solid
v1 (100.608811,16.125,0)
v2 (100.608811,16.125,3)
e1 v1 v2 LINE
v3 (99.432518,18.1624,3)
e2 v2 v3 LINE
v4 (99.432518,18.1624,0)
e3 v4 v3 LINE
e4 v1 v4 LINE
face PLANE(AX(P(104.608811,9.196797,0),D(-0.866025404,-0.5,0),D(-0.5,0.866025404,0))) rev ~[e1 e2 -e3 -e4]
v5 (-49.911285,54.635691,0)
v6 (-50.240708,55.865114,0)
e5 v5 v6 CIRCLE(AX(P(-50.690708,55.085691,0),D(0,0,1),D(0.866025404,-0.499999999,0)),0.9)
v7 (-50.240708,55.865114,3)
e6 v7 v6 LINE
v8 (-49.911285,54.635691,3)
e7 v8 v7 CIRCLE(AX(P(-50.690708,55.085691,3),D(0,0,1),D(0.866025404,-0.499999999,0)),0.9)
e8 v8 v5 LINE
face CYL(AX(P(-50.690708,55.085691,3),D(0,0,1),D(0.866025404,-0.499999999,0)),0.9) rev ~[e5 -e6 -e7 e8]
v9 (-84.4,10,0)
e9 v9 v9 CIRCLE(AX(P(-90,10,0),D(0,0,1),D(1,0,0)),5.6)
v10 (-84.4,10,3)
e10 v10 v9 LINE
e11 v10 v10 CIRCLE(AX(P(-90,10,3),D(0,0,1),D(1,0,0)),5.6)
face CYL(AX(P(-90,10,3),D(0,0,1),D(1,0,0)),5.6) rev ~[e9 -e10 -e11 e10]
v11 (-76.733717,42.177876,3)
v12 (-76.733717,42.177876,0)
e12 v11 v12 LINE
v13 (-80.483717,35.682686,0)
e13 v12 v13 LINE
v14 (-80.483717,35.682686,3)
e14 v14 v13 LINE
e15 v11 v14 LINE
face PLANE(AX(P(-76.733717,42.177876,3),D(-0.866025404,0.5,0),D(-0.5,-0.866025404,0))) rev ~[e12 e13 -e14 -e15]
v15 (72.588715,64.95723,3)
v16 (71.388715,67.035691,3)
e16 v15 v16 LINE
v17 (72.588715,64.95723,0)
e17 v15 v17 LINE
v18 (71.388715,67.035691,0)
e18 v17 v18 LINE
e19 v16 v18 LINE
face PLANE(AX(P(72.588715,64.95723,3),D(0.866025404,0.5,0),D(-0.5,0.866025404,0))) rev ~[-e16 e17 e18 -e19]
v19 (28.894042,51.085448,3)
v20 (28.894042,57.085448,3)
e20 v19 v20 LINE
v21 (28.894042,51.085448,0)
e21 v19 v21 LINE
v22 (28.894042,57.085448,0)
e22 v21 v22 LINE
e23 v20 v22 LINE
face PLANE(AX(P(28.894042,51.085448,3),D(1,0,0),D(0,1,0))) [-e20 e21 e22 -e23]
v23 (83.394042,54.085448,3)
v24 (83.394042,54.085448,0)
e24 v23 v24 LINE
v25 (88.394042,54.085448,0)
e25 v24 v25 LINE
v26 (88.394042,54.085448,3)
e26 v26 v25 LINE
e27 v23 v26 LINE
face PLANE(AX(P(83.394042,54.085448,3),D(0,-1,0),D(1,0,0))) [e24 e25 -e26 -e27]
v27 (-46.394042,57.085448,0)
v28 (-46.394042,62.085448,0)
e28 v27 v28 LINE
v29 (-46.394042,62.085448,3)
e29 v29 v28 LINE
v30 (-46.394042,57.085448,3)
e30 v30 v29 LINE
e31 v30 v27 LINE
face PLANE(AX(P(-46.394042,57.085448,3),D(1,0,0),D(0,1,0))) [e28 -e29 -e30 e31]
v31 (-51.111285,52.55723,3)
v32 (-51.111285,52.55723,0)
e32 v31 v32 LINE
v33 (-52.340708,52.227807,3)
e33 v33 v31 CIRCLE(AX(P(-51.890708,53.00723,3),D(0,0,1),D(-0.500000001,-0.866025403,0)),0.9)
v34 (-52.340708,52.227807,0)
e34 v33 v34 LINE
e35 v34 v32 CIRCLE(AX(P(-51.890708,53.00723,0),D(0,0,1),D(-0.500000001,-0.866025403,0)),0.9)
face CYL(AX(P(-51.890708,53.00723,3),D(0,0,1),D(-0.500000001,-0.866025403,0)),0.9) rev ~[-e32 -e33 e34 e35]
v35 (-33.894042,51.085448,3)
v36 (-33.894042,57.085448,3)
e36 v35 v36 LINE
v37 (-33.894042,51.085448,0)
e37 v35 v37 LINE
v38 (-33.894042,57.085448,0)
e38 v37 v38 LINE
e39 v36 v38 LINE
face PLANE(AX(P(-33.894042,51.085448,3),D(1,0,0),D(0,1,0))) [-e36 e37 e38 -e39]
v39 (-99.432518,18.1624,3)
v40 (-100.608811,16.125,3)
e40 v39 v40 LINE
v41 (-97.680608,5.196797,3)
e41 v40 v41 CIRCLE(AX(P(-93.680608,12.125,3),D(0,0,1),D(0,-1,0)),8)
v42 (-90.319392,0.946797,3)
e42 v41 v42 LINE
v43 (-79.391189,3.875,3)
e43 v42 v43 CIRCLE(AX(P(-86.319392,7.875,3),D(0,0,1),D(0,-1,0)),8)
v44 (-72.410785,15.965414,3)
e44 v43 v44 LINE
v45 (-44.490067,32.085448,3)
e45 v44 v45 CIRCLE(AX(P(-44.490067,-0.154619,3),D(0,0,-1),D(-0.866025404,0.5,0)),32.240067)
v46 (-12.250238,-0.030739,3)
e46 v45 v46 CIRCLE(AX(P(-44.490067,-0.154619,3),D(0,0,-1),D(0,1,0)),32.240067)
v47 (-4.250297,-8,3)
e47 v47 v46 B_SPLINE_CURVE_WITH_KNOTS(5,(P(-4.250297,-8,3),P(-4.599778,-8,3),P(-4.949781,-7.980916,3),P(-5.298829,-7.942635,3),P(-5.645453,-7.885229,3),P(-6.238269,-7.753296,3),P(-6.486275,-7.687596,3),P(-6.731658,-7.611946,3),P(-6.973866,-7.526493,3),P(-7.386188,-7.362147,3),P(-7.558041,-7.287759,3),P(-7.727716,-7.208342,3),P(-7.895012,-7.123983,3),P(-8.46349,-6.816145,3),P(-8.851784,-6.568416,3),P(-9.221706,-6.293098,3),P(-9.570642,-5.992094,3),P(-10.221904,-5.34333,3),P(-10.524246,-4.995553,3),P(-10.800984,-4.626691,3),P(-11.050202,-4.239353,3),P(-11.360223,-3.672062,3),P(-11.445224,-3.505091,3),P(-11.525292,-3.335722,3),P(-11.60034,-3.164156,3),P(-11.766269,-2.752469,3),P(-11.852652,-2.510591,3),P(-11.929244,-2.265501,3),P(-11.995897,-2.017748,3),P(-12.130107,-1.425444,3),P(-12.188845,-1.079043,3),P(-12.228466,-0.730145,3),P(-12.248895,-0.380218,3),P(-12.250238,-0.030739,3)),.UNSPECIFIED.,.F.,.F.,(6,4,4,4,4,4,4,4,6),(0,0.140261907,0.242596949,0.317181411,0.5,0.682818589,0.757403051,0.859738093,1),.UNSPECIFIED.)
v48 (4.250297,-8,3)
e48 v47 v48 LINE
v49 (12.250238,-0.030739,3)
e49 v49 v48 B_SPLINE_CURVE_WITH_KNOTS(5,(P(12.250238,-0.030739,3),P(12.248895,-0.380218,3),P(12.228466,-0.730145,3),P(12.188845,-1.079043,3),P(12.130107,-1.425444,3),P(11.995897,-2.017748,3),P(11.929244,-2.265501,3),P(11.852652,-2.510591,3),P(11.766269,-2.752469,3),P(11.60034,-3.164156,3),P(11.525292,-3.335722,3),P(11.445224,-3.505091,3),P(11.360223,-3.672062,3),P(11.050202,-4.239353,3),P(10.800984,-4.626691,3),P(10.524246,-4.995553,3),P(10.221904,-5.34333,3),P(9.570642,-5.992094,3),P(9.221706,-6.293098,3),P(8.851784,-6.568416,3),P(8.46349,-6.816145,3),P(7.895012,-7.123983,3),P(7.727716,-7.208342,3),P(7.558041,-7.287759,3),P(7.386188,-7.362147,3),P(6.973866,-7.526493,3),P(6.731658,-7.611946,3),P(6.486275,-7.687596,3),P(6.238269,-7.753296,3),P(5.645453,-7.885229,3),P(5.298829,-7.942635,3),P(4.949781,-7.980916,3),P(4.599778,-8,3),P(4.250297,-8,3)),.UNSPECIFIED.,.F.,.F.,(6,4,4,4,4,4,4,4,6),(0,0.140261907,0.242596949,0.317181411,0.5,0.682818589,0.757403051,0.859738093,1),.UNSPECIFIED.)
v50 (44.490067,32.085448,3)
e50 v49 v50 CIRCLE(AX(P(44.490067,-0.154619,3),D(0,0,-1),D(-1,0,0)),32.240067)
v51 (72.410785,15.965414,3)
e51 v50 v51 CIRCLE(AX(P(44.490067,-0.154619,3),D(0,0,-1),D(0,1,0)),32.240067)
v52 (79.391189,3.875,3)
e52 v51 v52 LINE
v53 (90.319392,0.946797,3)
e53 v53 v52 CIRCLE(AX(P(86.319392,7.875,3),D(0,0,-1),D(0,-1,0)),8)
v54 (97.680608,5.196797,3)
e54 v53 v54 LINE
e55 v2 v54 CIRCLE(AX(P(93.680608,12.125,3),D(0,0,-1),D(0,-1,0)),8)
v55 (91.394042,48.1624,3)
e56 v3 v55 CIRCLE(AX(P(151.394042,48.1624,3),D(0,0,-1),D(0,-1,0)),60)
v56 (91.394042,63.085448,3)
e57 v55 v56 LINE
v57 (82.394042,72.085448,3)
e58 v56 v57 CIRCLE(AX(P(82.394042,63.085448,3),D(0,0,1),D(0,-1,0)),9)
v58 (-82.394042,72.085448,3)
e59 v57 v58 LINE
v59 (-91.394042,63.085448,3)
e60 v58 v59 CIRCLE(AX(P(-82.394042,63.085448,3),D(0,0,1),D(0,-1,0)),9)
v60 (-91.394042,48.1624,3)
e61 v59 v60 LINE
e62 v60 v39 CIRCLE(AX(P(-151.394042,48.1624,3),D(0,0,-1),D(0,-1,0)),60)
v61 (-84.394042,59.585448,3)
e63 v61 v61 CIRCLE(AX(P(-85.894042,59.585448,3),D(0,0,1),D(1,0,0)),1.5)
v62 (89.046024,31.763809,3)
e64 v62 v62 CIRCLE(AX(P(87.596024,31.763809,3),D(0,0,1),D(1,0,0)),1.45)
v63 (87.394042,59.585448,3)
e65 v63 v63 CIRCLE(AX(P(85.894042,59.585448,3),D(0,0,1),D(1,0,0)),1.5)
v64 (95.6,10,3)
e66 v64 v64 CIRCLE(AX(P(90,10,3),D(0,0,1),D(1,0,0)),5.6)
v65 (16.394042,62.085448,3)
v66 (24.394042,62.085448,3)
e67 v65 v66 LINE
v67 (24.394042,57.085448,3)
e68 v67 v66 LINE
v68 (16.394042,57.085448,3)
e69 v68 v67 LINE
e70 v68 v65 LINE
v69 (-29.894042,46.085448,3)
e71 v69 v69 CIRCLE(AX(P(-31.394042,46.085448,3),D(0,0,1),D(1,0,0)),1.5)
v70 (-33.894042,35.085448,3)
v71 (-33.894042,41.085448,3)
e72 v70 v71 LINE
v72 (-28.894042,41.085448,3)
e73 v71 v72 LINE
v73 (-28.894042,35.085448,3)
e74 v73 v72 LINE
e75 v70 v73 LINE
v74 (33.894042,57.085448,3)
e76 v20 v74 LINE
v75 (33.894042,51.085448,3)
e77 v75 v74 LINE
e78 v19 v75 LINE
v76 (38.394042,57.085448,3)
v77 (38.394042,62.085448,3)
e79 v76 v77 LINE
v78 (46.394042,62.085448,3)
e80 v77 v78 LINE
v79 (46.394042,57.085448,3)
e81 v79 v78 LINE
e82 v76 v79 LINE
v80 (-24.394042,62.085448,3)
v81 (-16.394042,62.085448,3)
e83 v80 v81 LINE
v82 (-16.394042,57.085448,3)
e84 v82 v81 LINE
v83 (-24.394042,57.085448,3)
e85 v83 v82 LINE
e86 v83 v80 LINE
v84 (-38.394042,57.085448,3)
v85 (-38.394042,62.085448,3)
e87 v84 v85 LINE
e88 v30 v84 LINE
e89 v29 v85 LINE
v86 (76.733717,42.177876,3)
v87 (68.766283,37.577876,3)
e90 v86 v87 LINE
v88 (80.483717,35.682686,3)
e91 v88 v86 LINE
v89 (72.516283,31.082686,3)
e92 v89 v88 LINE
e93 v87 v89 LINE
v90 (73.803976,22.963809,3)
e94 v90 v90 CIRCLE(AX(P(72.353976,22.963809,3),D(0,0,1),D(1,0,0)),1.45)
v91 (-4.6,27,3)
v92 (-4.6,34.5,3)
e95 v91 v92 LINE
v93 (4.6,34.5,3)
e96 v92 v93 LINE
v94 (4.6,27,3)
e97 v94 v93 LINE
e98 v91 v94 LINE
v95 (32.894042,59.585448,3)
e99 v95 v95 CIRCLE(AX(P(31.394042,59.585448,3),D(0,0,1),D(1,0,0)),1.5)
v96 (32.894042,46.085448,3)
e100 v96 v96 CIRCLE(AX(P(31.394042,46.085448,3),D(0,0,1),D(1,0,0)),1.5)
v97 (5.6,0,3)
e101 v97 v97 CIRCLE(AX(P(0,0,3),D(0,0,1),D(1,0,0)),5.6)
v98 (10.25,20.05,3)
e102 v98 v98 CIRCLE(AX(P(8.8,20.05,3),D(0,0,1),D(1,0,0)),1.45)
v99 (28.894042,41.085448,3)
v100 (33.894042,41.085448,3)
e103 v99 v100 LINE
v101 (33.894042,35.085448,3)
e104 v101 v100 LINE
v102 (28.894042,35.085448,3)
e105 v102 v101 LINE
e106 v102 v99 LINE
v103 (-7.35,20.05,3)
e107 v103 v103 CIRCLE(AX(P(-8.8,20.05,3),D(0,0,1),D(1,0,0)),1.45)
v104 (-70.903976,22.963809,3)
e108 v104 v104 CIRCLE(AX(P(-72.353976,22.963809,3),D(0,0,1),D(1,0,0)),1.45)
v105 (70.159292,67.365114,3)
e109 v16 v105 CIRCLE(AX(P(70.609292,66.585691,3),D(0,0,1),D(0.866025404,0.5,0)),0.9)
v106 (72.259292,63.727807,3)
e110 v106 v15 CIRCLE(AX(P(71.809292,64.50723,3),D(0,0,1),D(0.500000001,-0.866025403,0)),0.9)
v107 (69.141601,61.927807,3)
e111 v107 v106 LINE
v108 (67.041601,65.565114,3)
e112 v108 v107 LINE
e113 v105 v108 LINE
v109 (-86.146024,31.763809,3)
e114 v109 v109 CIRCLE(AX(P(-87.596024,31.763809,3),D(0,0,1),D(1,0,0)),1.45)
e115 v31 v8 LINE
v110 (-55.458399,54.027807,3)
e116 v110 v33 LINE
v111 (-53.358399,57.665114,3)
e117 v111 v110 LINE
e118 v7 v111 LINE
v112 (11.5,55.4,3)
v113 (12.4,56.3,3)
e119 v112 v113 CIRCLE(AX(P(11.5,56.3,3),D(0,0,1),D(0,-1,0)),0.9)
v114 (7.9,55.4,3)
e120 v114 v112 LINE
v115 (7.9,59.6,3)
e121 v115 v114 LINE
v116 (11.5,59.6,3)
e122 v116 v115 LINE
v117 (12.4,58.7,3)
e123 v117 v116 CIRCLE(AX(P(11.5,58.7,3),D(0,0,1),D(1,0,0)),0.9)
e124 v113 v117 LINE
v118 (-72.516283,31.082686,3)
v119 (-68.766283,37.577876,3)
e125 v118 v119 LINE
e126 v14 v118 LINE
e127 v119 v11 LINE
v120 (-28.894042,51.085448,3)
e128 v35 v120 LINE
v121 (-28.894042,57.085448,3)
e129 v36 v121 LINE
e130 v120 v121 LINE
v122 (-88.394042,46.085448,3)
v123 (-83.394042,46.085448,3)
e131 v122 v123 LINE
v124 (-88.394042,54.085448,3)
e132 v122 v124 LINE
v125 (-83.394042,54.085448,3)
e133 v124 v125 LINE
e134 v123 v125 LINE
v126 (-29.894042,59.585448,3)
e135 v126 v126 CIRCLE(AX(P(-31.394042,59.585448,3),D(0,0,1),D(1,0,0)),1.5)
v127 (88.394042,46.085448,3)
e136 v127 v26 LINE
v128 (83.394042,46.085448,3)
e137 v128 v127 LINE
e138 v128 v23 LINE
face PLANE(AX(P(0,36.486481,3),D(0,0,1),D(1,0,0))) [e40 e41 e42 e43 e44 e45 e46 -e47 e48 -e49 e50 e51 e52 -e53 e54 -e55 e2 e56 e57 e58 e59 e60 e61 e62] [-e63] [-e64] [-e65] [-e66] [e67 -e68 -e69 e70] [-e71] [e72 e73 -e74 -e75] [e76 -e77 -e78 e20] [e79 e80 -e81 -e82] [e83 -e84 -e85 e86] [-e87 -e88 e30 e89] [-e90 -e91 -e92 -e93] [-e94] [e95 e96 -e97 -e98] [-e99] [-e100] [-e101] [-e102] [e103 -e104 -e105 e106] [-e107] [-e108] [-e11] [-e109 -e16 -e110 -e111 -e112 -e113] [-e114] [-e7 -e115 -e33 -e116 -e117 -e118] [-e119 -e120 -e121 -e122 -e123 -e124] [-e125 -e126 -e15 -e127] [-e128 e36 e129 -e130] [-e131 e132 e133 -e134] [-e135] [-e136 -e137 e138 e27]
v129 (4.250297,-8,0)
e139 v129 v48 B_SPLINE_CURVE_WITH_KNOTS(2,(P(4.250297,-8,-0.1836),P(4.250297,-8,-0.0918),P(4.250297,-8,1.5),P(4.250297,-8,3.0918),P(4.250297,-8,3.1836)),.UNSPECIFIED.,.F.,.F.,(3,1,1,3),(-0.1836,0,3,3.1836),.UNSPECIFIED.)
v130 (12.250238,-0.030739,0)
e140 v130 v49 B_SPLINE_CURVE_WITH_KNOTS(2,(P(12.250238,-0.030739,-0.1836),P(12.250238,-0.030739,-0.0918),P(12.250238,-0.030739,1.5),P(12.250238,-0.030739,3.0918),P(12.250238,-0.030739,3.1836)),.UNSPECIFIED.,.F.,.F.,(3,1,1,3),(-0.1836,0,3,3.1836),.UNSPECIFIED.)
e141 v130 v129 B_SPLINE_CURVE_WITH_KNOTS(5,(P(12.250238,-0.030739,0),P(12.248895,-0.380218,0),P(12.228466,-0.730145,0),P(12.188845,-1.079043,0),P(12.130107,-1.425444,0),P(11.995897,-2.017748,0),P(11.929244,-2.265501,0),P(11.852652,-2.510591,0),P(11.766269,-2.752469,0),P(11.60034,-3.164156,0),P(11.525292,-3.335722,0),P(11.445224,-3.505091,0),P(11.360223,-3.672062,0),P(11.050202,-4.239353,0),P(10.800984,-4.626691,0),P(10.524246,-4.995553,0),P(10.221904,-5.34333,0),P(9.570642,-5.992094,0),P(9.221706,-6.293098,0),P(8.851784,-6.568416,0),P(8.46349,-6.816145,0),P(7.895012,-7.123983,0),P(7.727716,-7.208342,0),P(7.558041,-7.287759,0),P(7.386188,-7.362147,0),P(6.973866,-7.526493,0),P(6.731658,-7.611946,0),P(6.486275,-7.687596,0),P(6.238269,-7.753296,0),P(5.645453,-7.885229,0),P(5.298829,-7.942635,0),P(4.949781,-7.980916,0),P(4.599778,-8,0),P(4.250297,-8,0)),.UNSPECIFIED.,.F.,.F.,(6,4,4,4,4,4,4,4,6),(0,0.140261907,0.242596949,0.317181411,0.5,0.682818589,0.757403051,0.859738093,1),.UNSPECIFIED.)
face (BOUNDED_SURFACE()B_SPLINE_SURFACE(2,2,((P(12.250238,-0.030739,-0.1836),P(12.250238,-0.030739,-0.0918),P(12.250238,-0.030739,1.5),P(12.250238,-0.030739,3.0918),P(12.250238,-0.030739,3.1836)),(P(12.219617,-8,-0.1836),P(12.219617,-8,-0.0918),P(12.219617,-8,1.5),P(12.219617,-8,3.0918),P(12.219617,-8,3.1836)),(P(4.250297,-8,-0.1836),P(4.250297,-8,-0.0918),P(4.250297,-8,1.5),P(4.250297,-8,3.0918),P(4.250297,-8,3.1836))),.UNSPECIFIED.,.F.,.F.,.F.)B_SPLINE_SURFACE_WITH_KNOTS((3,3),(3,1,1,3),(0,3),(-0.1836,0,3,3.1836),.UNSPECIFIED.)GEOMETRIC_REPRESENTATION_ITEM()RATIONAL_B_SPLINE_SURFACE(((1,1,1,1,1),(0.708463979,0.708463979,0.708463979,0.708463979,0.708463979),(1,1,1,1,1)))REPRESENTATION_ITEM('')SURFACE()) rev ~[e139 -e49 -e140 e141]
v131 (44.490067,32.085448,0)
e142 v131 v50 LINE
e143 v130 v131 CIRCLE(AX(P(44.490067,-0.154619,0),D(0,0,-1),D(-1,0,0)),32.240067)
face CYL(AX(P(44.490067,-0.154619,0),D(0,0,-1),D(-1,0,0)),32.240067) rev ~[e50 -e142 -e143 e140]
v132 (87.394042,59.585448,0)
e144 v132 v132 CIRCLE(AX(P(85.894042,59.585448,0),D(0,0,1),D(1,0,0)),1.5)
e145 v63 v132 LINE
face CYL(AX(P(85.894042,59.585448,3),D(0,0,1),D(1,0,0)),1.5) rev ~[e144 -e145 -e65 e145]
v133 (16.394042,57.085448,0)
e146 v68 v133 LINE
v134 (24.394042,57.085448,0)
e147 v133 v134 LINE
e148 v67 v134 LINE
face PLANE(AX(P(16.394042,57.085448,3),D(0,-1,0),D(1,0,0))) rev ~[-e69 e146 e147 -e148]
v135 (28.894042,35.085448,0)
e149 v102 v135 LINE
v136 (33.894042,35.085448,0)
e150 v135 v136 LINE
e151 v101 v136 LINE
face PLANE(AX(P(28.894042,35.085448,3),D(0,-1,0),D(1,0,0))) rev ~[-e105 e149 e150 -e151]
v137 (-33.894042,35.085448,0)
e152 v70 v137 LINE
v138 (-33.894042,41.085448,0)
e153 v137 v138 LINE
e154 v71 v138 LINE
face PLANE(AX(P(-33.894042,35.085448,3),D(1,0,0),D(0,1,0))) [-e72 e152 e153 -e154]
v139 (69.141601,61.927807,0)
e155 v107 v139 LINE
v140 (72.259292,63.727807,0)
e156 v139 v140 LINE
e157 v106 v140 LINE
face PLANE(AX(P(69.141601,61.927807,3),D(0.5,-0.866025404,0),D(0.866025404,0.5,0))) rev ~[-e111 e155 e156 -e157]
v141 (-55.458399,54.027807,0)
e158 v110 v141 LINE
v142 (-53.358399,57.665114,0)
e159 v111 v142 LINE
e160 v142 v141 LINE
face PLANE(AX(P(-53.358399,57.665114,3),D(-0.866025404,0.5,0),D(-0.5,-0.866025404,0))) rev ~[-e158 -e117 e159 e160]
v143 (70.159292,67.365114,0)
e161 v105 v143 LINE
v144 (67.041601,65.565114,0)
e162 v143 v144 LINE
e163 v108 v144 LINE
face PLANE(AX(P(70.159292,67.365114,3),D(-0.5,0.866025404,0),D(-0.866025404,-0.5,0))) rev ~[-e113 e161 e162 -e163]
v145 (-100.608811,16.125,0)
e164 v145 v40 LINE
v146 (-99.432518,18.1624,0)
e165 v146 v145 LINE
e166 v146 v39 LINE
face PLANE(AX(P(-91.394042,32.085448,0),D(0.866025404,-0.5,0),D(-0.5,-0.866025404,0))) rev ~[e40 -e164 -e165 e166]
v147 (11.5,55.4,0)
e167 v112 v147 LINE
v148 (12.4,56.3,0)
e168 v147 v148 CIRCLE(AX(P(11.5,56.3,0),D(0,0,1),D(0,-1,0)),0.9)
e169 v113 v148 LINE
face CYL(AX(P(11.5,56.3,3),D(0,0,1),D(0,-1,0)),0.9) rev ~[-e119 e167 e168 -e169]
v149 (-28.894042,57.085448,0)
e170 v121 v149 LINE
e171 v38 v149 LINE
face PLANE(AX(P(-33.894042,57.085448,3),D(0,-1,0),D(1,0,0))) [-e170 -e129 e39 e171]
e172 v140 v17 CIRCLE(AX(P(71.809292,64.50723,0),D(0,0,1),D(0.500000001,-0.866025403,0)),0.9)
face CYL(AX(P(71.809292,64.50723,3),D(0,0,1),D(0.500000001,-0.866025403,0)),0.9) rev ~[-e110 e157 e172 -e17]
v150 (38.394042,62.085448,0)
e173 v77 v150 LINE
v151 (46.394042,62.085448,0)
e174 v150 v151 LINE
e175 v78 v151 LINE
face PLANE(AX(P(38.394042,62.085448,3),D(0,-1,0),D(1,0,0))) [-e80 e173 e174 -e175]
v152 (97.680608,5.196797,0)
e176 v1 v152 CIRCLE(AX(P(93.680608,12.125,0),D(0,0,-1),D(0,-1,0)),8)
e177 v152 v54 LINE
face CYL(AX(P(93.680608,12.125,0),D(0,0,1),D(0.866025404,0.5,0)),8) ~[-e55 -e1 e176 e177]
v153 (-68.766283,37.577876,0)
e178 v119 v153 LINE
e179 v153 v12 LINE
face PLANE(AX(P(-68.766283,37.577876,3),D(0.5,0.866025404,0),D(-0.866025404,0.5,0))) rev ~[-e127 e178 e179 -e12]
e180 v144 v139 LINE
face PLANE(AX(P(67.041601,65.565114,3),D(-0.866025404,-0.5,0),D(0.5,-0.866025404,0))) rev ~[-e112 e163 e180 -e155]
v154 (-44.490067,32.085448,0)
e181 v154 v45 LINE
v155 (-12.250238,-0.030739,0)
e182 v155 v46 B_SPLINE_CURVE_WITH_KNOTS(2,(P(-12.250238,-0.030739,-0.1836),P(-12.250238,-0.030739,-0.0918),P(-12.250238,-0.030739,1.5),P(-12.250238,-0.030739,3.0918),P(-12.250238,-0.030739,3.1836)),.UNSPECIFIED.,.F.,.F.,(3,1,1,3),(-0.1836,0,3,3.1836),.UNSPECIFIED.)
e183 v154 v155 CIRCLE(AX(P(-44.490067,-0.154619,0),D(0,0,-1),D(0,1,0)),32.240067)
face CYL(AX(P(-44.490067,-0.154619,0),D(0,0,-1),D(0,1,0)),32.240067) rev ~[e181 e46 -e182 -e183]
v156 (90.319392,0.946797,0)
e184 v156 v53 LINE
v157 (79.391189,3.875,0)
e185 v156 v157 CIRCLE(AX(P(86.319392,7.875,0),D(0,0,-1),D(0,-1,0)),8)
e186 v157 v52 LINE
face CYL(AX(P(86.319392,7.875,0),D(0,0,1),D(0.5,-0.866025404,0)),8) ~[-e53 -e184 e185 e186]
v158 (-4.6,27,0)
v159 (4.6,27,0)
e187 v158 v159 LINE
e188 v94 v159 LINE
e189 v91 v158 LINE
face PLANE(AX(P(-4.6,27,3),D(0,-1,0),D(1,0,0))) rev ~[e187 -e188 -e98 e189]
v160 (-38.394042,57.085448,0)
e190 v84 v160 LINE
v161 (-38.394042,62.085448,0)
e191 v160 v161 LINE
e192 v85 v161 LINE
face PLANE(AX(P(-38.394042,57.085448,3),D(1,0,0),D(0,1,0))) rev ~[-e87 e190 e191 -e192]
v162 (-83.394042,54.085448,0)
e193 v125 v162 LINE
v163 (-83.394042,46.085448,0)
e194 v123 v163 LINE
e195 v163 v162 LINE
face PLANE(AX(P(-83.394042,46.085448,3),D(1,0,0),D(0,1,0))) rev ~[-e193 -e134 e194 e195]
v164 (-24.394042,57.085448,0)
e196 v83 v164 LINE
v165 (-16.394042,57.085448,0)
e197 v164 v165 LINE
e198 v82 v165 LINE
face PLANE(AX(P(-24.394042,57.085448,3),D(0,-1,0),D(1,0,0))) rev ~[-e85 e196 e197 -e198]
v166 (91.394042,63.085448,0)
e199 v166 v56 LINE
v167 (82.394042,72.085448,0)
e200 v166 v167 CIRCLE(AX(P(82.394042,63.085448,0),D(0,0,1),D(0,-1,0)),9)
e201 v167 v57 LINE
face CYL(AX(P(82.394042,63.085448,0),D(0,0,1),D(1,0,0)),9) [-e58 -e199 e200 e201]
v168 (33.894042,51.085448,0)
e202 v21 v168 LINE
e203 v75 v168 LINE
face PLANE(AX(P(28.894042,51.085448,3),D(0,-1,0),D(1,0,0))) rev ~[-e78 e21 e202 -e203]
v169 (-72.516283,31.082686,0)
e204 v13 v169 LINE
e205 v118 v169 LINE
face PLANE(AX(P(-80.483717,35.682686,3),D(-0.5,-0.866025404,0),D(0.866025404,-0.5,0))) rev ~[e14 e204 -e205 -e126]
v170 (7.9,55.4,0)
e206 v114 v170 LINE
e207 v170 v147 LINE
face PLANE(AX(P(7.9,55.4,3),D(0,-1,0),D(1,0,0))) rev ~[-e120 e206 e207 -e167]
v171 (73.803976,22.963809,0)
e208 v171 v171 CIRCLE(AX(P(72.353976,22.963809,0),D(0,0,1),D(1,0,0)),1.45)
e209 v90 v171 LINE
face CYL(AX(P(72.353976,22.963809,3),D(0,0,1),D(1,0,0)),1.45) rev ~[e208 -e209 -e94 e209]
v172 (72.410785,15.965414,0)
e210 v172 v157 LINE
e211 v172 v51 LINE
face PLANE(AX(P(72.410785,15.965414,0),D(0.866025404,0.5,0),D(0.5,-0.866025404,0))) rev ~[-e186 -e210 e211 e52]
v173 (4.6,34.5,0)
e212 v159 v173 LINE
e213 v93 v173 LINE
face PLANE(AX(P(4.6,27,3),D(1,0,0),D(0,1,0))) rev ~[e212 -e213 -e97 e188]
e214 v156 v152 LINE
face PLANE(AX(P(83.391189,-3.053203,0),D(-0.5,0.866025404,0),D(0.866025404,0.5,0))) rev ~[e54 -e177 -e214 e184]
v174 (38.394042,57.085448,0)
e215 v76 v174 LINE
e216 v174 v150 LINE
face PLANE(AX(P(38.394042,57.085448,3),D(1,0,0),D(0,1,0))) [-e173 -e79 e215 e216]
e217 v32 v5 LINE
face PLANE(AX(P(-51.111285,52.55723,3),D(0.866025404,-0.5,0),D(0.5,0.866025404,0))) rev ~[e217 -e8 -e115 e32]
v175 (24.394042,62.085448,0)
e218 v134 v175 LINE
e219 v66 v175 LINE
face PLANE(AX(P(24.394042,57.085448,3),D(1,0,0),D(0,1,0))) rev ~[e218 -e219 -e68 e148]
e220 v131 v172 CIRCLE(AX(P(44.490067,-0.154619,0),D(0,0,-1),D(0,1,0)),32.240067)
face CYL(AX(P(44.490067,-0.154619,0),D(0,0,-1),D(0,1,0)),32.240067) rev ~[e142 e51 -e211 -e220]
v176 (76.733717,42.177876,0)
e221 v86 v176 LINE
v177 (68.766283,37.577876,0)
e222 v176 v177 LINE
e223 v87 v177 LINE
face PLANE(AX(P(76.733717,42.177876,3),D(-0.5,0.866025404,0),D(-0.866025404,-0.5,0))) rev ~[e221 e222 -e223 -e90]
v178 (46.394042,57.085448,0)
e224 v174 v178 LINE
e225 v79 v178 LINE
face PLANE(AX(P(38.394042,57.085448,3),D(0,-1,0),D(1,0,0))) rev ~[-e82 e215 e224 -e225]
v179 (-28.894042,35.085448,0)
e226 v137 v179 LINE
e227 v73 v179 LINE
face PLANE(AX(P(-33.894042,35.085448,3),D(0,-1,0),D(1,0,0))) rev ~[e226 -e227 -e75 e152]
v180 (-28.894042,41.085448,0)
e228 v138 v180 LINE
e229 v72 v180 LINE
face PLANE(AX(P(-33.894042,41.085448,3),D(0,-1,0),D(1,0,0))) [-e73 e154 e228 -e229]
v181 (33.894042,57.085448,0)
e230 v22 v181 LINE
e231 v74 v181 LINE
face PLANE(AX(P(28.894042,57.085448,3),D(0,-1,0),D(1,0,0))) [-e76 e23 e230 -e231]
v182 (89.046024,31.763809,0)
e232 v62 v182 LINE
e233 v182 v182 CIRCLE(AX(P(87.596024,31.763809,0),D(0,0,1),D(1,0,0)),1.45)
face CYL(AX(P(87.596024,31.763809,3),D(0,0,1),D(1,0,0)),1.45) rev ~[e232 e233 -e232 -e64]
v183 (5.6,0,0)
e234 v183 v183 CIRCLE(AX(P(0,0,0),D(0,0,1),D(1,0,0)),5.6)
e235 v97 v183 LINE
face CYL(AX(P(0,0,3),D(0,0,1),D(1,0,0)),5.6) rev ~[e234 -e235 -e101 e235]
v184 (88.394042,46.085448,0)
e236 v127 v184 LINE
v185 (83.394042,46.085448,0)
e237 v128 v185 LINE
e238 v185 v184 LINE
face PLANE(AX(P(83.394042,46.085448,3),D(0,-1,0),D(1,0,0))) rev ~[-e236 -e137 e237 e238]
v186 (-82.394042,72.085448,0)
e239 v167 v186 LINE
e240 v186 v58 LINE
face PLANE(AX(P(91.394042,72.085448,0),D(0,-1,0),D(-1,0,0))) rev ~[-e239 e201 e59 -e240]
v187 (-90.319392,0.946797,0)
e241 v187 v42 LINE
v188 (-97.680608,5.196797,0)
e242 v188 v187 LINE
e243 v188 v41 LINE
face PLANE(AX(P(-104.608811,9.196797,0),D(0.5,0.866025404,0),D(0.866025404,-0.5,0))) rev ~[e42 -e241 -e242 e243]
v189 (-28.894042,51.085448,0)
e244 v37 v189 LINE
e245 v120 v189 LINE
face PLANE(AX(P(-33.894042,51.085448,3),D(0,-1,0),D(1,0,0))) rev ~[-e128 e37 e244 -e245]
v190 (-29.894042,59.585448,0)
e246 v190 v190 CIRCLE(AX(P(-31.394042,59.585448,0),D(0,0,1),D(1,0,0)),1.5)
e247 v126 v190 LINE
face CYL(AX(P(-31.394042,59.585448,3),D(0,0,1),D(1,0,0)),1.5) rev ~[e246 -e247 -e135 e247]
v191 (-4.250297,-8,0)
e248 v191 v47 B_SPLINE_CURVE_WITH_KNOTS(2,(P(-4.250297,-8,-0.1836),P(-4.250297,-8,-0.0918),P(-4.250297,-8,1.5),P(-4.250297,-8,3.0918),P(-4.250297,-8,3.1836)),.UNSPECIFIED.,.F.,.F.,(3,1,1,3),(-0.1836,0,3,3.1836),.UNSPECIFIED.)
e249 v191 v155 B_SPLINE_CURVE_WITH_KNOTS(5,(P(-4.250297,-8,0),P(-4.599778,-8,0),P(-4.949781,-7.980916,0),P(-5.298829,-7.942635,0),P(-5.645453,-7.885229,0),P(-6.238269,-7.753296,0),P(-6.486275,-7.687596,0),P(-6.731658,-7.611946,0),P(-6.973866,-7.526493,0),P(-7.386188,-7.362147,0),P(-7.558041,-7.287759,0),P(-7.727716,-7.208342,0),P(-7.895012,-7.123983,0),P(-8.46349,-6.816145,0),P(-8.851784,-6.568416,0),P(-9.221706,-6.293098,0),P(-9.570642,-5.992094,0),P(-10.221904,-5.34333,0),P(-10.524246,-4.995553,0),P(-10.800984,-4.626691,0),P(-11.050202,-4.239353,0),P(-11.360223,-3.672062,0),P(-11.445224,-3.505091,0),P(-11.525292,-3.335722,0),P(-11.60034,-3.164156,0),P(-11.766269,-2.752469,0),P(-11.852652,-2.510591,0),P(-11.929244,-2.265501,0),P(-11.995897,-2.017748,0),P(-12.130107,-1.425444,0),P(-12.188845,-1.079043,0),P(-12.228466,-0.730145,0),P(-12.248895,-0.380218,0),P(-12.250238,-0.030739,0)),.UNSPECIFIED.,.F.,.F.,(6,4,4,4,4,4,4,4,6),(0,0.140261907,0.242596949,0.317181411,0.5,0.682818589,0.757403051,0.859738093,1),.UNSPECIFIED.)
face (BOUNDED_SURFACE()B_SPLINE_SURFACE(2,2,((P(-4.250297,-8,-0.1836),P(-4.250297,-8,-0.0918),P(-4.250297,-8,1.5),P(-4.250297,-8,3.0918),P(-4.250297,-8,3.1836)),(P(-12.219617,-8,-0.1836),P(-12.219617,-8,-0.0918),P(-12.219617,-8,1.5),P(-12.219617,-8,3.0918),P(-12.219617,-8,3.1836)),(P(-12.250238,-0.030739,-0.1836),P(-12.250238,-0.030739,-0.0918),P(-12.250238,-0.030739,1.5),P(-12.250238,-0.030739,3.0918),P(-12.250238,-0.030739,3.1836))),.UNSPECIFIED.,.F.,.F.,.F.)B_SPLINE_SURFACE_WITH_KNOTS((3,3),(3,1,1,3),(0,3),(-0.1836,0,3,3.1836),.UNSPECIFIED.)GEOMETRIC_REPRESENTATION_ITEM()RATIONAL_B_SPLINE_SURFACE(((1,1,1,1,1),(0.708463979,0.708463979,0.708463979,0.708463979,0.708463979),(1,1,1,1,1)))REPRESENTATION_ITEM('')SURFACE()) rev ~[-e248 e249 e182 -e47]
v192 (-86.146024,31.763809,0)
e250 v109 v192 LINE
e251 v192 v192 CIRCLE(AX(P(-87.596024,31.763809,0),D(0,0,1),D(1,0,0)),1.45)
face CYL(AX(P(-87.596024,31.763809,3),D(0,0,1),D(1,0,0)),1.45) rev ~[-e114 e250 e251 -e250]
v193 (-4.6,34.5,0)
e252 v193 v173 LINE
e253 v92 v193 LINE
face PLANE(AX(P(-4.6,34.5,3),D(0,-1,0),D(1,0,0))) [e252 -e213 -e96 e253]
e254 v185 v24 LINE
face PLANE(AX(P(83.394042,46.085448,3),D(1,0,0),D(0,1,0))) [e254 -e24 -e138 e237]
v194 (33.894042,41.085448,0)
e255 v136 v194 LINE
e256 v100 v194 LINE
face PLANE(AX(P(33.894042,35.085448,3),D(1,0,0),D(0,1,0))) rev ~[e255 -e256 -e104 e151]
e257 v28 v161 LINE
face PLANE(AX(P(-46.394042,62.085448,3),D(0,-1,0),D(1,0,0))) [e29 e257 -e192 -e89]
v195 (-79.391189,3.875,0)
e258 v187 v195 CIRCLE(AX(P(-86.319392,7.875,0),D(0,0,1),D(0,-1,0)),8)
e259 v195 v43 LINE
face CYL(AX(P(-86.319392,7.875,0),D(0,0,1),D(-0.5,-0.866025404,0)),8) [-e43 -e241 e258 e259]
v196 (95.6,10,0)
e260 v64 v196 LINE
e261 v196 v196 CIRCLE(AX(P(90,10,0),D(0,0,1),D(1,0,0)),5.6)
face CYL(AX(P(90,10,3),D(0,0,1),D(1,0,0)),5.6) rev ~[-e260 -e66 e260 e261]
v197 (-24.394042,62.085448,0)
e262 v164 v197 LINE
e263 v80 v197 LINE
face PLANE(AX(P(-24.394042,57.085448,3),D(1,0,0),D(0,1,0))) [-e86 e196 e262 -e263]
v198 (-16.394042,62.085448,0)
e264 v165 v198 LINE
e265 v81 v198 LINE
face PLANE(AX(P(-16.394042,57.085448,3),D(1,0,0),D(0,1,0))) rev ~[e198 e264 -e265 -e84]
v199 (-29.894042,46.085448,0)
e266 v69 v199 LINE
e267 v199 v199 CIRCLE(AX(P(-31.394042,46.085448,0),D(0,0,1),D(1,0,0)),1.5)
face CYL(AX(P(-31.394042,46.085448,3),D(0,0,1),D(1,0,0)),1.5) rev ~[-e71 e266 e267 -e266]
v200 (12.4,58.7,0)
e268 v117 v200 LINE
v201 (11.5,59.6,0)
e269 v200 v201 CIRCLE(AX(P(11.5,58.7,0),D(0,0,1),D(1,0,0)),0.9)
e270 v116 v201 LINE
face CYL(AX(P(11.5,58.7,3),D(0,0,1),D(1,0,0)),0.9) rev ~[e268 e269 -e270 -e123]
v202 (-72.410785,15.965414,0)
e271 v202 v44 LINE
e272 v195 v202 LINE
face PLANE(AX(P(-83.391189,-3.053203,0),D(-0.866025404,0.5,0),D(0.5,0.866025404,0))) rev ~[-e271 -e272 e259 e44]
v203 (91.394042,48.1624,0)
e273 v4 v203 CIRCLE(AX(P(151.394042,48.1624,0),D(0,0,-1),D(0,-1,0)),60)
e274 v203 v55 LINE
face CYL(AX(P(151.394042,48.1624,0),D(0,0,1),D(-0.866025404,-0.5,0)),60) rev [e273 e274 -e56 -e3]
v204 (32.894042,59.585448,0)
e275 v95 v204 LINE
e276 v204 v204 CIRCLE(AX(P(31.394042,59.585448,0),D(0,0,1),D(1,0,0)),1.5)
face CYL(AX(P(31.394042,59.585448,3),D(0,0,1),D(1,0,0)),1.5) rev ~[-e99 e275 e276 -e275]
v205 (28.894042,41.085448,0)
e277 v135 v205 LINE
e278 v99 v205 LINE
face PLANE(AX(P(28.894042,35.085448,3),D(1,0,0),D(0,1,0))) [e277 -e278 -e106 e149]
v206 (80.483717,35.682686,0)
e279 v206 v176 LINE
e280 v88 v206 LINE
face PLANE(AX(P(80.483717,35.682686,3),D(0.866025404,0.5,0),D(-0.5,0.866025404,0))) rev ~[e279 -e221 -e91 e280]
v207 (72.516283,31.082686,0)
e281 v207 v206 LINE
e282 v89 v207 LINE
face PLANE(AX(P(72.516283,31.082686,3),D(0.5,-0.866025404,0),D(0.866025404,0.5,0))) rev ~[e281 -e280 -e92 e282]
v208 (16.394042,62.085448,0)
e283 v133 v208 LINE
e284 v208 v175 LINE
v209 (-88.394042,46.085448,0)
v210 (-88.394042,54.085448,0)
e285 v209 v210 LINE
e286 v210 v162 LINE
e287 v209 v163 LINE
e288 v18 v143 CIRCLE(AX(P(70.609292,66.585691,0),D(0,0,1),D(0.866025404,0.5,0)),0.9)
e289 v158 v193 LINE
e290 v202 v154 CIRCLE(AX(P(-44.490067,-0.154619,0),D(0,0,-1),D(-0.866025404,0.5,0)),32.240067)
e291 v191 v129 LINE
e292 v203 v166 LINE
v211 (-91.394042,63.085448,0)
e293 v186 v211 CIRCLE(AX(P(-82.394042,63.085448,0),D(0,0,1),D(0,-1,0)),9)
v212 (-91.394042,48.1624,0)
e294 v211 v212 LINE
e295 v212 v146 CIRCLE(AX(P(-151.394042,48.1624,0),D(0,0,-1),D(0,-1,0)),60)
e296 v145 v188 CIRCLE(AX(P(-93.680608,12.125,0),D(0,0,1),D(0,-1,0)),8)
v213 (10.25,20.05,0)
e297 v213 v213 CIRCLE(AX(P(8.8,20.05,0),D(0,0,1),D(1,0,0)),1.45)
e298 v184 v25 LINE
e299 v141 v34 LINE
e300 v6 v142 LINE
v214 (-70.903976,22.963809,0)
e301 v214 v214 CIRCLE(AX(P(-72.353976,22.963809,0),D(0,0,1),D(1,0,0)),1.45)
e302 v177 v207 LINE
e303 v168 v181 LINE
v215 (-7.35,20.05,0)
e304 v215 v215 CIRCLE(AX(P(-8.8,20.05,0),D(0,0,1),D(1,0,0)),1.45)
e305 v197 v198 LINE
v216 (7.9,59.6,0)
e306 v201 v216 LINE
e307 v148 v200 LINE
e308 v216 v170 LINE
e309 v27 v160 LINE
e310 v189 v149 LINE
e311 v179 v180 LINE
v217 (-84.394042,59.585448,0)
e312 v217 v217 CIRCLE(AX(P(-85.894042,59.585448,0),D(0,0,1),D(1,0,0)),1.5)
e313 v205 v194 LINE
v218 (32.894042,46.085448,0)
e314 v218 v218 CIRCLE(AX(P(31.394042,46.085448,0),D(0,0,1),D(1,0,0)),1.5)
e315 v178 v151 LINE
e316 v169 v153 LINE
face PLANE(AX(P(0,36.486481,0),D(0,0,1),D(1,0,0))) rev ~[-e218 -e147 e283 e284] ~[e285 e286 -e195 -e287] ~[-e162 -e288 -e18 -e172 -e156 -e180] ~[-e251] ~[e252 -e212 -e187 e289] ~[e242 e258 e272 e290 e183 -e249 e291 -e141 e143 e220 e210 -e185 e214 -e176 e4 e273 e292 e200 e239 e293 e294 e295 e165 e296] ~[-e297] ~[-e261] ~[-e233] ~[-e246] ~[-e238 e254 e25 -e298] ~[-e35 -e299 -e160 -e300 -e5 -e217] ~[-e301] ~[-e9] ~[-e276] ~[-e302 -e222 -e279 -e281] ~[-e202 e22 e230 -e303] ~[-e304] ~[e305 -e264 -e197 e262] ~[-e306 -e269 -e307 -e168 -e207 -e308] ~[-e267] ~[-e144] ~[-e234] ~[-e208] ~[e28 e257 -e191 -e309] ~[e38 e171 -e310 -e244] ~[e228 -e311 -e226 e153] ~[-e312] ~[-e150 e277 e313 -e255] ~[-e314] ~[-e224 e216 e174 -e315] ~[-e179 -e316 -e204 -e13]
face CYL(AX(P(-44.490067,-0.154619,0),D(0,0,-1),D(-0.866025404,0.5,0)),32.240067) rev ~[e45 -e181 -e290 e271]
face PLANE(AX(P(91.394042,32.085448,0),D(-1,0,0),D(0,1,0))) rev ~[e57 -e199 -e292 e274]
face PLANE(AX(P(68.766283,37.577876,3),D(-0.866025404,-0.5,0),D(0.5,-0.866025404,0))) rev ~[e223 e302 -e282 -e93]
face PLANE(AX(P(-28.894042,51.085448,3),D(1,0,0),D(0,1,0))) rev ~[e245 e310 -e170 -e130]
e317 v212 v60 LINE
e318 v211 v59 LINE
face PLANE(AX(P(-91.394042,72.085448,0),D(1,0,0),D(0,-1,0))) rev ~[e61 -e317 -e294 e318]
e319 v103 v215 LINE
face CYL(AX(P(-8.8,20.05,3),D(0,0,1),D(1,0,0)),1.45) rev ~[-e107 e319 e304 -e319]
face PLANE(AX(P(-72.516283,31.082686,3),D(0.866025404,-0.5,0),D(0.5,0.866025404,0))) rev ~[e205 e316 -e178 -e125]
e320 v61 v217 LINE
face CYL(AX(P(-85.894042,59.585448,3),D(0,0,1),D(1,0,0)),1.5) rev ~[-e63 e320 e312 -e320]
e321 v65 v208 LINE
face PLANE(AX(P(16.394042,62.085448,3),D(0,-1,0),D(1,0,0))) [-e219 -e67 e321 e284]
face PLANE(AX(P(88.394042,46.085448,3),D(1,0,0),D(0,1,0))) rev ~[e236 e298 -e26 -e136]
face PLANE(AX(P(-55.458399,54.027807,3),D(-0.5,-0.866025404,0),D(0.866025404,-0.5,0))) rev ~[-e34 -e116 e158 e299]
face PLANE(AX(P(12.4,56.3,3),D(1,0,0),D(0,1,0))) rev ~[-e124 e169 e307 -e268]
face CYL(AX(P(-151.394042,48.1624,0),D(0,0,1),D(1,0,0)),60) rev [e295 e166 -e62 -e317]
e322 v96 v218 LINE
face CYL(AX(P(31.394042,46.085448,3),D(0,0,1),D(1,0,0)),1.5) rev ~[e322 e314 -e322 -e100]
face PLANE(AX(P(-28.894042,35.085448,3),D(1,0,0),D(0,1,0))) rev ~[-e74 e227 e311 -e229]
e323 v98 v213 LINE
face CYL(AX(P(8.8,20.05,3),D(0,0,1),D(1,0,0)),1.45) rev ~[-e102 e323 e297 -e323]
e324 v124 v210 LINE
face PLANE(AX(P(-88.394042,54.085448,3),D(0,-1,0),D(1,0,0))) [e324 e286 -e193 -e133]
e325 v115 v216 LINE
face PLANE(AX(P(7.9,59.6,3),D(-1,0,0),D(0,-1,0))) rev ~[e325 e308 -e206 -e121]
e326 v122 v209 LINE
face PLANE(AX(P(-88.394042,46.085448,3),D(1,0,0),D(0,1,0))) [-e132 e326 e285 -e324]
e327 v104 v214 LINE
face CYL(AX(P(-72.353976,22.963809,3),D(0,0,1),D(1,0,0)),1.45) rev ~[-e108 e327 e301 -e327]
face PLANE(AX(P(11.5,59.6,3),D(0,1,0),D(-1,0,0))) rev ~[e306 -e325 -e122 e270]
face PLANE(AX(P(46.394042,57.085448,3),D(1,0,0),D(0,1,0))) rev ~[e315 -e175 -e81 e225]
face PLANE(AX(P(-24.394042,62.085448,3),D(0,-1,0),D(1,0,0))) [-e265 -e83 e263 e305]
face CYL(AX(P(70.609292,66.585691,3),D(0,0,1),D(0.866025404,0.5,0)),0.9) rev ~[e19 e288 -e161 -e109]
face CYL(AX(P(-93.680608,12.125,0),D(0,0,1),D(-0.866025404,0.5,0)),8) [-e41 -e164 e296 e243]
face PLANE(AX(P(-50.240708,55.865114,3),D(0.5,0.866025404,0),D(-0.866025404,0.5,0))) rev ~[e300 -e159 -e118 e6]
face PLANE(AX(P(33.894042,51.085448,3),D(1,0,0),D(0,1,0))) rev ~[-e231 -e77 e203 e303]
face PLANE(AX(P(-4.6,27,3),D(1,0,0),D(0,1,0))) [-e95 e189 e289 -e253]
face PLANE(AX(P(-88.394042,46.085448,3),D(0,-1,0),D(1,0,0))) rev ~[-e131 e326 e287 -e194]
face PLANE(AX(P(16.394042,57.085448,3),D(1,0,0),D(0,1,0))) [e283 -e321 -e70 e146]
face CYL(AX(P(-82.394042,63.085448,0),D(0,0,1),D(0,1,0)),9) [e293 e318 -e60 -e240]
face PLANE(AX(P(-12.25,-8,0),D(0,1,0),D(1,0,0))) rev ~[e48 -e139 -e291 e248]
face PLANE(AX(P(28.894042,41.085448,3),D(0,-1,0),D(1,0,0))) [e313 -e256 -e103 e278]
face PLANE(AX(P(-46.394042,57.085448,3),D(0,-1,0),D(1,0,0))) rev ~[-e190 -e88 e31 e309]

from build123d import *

# Parameters (mm, degrees)
BOSS_EXTRUDE1_DEPTH = 3
FILLET1_R           = 60
FILLET2_R           = 8
SKETCH3_R           = 1.45
SKETCH3_R_2         = 5.6
SKETCH3_W           = 9.2
SKETCH3_H           = 7.5
CUT_EXTRUDE1_DEPTH  = 125.676613305
SKETCH4_R           = 1.5
SKETCH4_W           = 8
SKETCH4_H           = 5
CUT_EXTRUDE2_DEPTH  = 125.676613305
SKETCH5_W           = 5
SKETCH5_H           = 8
CUT_EXTRUDE3_DEPTH  = 125.676613305
FILLET3_R           = 9
SKETCH6_R           = 1.5
SKETCH6_W           = 5
SKETCH6_H           = 6
CUT_EXTRUDE4_DEPTH  = 125.676613305


with BuildPart() as part:
    # Sketch1 → Boss-Extrude1 (new body)
    with BuildSketch(Plane.XY):
        Polygon((-83.391188804, -3.05320323), (-63.103878976, 32.08544814), (-12.25, 32.08544814), (-12.25, -8), (12.25, -8), (12.25, 32.08544814), (63.103878976, 32.08544814), (83.391188804, -3.05320323), (104.608811196, 9.19679677), (91.394042166, 32.08544814), (91.394042166, 72.08544814), (-91.394042166, 72.08544814), (-91.394042166, 32.08544814), (-104.608811196, 9.19679677), align=None)
        with BuildLine():
            ThreePointArc((-72.410784769, 15.965414445), (-60.610101085, 27.766098129), (-44.49006739, 32.08544814))
            Line((-44.49006739, 32.08544814), (-63.103878976, 32.08544814))
            Line((-63.103878976, 32.08544814), (-72.410784769, 15.965414445))
        make_face()
        with BuildLine():
            Line((-12.25, -0.15461925), (-12.25, 32.08544814))
            Line((-12.25, 32.08544814), (-44.49006739, 32.08544814))
            ThreePointArc((-44.49006739, 32.08544814), (-21.692897113, 22.642551027), (-12.25, -0.15461925))
        make_face()
        with BuildLine():
            Line((12.25, 32.08544814), (12.25, -0.15461925))
            ThreePointArc((12.25, -0.15461925), (21.692897113, 22.642551027), (44.49006739, 32.08544814))
            Line((44.49006739, 32.08544814), (12.25, 32.08544814))
        make_face()
        with BuildLine():
            Line((63.103878976, 32.08544814), (44.49006739, 32.08544814))
            ThreePointArc((44.49006739, 32.08544814), (60.610101085, 27.766098129), (72.410784769, 15.965414445))
            Line((72.410784769, 15.965414445), (63.103878976, 32.08544814))
        make_face()
    extrude(amount=BOSS_EXTRUDE1_DEPTH)

    # Fillet1
    fillet1_edges = [part.edges().sort_by_distance(p)[0] for p in [
        (-91.394042166, 32.08544814, 1.5),
        (91.394042166, 32.08544814, 1.5),
    ]]
    fillet(fillet1_edges, radius=FILLET1_R)

    # Fillet2
    fillet2_edges = [part.edges().sort_by_distance(p)[0] for p in [
        (-104.608811196, 9.19679677, 1.5),
        (-83.391188804, -3.05320323, 1.5),
        (-12.25, -8, 1.5),
        (12.25, -8, 1.5),
        (83.391188804, -3.05320323, 1.5),
        (104.608811196, 9.19679677, 1.5),
    ]]
    fillet(fillet2_edges, radius=FILLET2_R)

    # Sketch3 → Cut-Extrude1 (cut, through all)
    with BuildSketch(Plane.XY.offset(3)):
        with Locations((87.596023553, 31.763809346)):
            Circle(SKETCH3_R)
        with Locations((72.353976447, 22.963809346)):
            Circle(SKETCH3_R)
        with Locations((8.8, 20.05)):
            Circle(SKETCH3_R)
        with Locations((-8.8, 20.05)):
            Circle(SKETCH3_R)
        with Locations((-87.596023553, 31.763809346)):
            Circle(SKETCH3_R)
        with Locations((-72.353976447, 22.963809346)):
            Circle(SKETCH3_R)
        Circle(SKETCH3_R_2)
        with Locations((-90, 10)):
            Circle(SKETCH3_R_2)
        with Locations((90, 10)):
            Circle(SKETCH3_R_2)
        with BuildLine():
            Line((-53.35839931, 57.665114066), (-55.45839931, 54.02780737))
            Line((-55.45839931, 54.02780737), (-52.340707856, 52.22780737))
            ThreePointArc((-52.340707856, 52.22780737), (-51.657770716, 52.137896989), (-51.111284993, 52.557230233))
            Line((-51.111284993, 52.557230233), (-49.911284993, 54.635691202))
            ThreePointArc((-49.911284993, 54.635691202), (-49.821374613, 55.318628343), (-50.240707856, 55.865114066))
            Line((-50.240707856, 55.865114066), (-53.35839931, 57.665114066))
        make_face()
        with BuildLine():
            Line((7.9, 59.6), (7.9, 55.4))
            Line((7.9, 55.4), (11.5, 55.4))
            ThreePointArc((11.5, 55.4), (12.136396103, 55.663603897), (12.4, 56.3))
            Line((12.4, 56.3), (12.4, 58.7))
            ThreePointArc((12.4, 58.7), (12.136396103, 59.336396103), (11.5, 59.6))
            Line((11.5, 59.6), (7.9, 59.6))
        make_face()
        with BuildLine():
            Line((67.04160069, 65.565114066), (69.14160069, 61.92780737))
            Line((69.14160069, 61.92780737), (72.259292144, 63.72780737))
            ThreePointArc((72.259292144, 63.72780737), (72.678625387, 64.274293092), (72.588715007, 64.957230233))
            Line((72.588715007, 64.957230233), (71.388715007, 67.035691202))
            ThreePointArc((71.388715007, 67.035691202), (70.842229284, 67.455024446), (70.159292144, 67.365114066))
            Line((70.159292144, 67.365114066), (67.04160069, 65.565114066))
        make_face()
        Polygon((-68.766283143, 37.577876431), (-76.733716857, 42.177876431), (-80.483716857, 35.682685902), (-72.516283143, 31.082685902), align=None)
        with Locations((0, 30.75)):
            Rectangle(SKETCH3_W, SKETCH3_H)
        Polygon((76.733716857, 42.177876431), (68.766283143, 37.577876431), (72.516283143, 31.082685902), (80.483716857, 35.682685902), align=None)
    extrude(amount=-CUT_EXTRUDE1_DEPTH, mode=Mode.SUBTRACT)

    # Sketch4 → Cut-Extrude2 (cut, through all)
    with BuildSketch(Plane.XY.offset(3)):
        with Locations((-31.394042166, 59.58544814)):
            Circle(SKETCH4_R)
        with Locations((31.394042166, 59.58544814)):
            Circle(SKETCH4_R)
        with Locations((-85.894042166, 59.58544814)):
            Circle(SKETCH4_R)
        with Locations((85.894042166, 59.58544814)):
            Circle(SKETCH4_R)
        with Locations((-42.394042166, 59.58544814)):
            Rectangle(SKETCH4_W, SKETCH4_H)
        with Locations((-20.394042166, 59.58544814)):
            Rectangle(SKETCH4_W, SKETCH4_H)
        with Locations((20.394042166, 59.58544814)):
            Rectangle(SKETCH4_W, SKETCH4_H)
        with Locations((42.394042166, 59.58544814)):
            Rectangle(SKETCH4_W, SKETCH4_H)
    extrude(amount=-CUT_EXTRUDE2_DEPTH, mode=Mode.SUBTRACT)

    # Sketch5 → Cut-Extrude3 (cut, through all)
    with BuildSketch(Plane.XY.offset(3)):
        with Locations((-85.894042166, 50.08544814)):
            Rectangle(SKETCH5_W, SKETCH5_H)
        with Locations((85.894042166, 50.08544814)):
            Rectangle(SKETCH5_W, SKETCH5_H)
    extrude(amount=-CUT_EXTRUDE3_DEPTH, mode=Mode.SUBTRACT)

    # Fillet3
    fillet3_edges = [part.edges().sort_by_distance(p)[0] for p in [
        (-91.394042166, 72.08544814, 1.5),
        (91.394042166, 72.08544814, 1.5),
    ]]
    fillet(fillet3_edges, radius=FILLET3_R)

    # Sketch6 → Cut-Extrude4 (cut, through all)
    with BuildSketch(Plane.XY.offset(3)):
        with Locations((-31.394042166, 46.08544814)):
            Circle(SKETCH6_R)
        with Locations((31.394042166, 46.08544814)):
            Circle(SKETCH6_R)
        with Locations((31.394042166, 38.08544814)):
            Rectangle(SKETCH6_W, SKETCH6_H)
        with Locations((31.394042166, 54.08544814)):
            Rectangle(SKETCH6_W, SKETCH6_H)
        with Locations((-31.394042166, 54.08544814)):
            Rectangle(SKETCH6_W, SKETCH6_H)
        with Locations((-31.394042166, 38.08544814)):
            Rectangle(SKETCH6_W, SKETCH6_H)
    extrude(amount=-CUT_EXTRUDE4_DEPTH, mode=Mode.SUBTRACT)


solid = part.part
